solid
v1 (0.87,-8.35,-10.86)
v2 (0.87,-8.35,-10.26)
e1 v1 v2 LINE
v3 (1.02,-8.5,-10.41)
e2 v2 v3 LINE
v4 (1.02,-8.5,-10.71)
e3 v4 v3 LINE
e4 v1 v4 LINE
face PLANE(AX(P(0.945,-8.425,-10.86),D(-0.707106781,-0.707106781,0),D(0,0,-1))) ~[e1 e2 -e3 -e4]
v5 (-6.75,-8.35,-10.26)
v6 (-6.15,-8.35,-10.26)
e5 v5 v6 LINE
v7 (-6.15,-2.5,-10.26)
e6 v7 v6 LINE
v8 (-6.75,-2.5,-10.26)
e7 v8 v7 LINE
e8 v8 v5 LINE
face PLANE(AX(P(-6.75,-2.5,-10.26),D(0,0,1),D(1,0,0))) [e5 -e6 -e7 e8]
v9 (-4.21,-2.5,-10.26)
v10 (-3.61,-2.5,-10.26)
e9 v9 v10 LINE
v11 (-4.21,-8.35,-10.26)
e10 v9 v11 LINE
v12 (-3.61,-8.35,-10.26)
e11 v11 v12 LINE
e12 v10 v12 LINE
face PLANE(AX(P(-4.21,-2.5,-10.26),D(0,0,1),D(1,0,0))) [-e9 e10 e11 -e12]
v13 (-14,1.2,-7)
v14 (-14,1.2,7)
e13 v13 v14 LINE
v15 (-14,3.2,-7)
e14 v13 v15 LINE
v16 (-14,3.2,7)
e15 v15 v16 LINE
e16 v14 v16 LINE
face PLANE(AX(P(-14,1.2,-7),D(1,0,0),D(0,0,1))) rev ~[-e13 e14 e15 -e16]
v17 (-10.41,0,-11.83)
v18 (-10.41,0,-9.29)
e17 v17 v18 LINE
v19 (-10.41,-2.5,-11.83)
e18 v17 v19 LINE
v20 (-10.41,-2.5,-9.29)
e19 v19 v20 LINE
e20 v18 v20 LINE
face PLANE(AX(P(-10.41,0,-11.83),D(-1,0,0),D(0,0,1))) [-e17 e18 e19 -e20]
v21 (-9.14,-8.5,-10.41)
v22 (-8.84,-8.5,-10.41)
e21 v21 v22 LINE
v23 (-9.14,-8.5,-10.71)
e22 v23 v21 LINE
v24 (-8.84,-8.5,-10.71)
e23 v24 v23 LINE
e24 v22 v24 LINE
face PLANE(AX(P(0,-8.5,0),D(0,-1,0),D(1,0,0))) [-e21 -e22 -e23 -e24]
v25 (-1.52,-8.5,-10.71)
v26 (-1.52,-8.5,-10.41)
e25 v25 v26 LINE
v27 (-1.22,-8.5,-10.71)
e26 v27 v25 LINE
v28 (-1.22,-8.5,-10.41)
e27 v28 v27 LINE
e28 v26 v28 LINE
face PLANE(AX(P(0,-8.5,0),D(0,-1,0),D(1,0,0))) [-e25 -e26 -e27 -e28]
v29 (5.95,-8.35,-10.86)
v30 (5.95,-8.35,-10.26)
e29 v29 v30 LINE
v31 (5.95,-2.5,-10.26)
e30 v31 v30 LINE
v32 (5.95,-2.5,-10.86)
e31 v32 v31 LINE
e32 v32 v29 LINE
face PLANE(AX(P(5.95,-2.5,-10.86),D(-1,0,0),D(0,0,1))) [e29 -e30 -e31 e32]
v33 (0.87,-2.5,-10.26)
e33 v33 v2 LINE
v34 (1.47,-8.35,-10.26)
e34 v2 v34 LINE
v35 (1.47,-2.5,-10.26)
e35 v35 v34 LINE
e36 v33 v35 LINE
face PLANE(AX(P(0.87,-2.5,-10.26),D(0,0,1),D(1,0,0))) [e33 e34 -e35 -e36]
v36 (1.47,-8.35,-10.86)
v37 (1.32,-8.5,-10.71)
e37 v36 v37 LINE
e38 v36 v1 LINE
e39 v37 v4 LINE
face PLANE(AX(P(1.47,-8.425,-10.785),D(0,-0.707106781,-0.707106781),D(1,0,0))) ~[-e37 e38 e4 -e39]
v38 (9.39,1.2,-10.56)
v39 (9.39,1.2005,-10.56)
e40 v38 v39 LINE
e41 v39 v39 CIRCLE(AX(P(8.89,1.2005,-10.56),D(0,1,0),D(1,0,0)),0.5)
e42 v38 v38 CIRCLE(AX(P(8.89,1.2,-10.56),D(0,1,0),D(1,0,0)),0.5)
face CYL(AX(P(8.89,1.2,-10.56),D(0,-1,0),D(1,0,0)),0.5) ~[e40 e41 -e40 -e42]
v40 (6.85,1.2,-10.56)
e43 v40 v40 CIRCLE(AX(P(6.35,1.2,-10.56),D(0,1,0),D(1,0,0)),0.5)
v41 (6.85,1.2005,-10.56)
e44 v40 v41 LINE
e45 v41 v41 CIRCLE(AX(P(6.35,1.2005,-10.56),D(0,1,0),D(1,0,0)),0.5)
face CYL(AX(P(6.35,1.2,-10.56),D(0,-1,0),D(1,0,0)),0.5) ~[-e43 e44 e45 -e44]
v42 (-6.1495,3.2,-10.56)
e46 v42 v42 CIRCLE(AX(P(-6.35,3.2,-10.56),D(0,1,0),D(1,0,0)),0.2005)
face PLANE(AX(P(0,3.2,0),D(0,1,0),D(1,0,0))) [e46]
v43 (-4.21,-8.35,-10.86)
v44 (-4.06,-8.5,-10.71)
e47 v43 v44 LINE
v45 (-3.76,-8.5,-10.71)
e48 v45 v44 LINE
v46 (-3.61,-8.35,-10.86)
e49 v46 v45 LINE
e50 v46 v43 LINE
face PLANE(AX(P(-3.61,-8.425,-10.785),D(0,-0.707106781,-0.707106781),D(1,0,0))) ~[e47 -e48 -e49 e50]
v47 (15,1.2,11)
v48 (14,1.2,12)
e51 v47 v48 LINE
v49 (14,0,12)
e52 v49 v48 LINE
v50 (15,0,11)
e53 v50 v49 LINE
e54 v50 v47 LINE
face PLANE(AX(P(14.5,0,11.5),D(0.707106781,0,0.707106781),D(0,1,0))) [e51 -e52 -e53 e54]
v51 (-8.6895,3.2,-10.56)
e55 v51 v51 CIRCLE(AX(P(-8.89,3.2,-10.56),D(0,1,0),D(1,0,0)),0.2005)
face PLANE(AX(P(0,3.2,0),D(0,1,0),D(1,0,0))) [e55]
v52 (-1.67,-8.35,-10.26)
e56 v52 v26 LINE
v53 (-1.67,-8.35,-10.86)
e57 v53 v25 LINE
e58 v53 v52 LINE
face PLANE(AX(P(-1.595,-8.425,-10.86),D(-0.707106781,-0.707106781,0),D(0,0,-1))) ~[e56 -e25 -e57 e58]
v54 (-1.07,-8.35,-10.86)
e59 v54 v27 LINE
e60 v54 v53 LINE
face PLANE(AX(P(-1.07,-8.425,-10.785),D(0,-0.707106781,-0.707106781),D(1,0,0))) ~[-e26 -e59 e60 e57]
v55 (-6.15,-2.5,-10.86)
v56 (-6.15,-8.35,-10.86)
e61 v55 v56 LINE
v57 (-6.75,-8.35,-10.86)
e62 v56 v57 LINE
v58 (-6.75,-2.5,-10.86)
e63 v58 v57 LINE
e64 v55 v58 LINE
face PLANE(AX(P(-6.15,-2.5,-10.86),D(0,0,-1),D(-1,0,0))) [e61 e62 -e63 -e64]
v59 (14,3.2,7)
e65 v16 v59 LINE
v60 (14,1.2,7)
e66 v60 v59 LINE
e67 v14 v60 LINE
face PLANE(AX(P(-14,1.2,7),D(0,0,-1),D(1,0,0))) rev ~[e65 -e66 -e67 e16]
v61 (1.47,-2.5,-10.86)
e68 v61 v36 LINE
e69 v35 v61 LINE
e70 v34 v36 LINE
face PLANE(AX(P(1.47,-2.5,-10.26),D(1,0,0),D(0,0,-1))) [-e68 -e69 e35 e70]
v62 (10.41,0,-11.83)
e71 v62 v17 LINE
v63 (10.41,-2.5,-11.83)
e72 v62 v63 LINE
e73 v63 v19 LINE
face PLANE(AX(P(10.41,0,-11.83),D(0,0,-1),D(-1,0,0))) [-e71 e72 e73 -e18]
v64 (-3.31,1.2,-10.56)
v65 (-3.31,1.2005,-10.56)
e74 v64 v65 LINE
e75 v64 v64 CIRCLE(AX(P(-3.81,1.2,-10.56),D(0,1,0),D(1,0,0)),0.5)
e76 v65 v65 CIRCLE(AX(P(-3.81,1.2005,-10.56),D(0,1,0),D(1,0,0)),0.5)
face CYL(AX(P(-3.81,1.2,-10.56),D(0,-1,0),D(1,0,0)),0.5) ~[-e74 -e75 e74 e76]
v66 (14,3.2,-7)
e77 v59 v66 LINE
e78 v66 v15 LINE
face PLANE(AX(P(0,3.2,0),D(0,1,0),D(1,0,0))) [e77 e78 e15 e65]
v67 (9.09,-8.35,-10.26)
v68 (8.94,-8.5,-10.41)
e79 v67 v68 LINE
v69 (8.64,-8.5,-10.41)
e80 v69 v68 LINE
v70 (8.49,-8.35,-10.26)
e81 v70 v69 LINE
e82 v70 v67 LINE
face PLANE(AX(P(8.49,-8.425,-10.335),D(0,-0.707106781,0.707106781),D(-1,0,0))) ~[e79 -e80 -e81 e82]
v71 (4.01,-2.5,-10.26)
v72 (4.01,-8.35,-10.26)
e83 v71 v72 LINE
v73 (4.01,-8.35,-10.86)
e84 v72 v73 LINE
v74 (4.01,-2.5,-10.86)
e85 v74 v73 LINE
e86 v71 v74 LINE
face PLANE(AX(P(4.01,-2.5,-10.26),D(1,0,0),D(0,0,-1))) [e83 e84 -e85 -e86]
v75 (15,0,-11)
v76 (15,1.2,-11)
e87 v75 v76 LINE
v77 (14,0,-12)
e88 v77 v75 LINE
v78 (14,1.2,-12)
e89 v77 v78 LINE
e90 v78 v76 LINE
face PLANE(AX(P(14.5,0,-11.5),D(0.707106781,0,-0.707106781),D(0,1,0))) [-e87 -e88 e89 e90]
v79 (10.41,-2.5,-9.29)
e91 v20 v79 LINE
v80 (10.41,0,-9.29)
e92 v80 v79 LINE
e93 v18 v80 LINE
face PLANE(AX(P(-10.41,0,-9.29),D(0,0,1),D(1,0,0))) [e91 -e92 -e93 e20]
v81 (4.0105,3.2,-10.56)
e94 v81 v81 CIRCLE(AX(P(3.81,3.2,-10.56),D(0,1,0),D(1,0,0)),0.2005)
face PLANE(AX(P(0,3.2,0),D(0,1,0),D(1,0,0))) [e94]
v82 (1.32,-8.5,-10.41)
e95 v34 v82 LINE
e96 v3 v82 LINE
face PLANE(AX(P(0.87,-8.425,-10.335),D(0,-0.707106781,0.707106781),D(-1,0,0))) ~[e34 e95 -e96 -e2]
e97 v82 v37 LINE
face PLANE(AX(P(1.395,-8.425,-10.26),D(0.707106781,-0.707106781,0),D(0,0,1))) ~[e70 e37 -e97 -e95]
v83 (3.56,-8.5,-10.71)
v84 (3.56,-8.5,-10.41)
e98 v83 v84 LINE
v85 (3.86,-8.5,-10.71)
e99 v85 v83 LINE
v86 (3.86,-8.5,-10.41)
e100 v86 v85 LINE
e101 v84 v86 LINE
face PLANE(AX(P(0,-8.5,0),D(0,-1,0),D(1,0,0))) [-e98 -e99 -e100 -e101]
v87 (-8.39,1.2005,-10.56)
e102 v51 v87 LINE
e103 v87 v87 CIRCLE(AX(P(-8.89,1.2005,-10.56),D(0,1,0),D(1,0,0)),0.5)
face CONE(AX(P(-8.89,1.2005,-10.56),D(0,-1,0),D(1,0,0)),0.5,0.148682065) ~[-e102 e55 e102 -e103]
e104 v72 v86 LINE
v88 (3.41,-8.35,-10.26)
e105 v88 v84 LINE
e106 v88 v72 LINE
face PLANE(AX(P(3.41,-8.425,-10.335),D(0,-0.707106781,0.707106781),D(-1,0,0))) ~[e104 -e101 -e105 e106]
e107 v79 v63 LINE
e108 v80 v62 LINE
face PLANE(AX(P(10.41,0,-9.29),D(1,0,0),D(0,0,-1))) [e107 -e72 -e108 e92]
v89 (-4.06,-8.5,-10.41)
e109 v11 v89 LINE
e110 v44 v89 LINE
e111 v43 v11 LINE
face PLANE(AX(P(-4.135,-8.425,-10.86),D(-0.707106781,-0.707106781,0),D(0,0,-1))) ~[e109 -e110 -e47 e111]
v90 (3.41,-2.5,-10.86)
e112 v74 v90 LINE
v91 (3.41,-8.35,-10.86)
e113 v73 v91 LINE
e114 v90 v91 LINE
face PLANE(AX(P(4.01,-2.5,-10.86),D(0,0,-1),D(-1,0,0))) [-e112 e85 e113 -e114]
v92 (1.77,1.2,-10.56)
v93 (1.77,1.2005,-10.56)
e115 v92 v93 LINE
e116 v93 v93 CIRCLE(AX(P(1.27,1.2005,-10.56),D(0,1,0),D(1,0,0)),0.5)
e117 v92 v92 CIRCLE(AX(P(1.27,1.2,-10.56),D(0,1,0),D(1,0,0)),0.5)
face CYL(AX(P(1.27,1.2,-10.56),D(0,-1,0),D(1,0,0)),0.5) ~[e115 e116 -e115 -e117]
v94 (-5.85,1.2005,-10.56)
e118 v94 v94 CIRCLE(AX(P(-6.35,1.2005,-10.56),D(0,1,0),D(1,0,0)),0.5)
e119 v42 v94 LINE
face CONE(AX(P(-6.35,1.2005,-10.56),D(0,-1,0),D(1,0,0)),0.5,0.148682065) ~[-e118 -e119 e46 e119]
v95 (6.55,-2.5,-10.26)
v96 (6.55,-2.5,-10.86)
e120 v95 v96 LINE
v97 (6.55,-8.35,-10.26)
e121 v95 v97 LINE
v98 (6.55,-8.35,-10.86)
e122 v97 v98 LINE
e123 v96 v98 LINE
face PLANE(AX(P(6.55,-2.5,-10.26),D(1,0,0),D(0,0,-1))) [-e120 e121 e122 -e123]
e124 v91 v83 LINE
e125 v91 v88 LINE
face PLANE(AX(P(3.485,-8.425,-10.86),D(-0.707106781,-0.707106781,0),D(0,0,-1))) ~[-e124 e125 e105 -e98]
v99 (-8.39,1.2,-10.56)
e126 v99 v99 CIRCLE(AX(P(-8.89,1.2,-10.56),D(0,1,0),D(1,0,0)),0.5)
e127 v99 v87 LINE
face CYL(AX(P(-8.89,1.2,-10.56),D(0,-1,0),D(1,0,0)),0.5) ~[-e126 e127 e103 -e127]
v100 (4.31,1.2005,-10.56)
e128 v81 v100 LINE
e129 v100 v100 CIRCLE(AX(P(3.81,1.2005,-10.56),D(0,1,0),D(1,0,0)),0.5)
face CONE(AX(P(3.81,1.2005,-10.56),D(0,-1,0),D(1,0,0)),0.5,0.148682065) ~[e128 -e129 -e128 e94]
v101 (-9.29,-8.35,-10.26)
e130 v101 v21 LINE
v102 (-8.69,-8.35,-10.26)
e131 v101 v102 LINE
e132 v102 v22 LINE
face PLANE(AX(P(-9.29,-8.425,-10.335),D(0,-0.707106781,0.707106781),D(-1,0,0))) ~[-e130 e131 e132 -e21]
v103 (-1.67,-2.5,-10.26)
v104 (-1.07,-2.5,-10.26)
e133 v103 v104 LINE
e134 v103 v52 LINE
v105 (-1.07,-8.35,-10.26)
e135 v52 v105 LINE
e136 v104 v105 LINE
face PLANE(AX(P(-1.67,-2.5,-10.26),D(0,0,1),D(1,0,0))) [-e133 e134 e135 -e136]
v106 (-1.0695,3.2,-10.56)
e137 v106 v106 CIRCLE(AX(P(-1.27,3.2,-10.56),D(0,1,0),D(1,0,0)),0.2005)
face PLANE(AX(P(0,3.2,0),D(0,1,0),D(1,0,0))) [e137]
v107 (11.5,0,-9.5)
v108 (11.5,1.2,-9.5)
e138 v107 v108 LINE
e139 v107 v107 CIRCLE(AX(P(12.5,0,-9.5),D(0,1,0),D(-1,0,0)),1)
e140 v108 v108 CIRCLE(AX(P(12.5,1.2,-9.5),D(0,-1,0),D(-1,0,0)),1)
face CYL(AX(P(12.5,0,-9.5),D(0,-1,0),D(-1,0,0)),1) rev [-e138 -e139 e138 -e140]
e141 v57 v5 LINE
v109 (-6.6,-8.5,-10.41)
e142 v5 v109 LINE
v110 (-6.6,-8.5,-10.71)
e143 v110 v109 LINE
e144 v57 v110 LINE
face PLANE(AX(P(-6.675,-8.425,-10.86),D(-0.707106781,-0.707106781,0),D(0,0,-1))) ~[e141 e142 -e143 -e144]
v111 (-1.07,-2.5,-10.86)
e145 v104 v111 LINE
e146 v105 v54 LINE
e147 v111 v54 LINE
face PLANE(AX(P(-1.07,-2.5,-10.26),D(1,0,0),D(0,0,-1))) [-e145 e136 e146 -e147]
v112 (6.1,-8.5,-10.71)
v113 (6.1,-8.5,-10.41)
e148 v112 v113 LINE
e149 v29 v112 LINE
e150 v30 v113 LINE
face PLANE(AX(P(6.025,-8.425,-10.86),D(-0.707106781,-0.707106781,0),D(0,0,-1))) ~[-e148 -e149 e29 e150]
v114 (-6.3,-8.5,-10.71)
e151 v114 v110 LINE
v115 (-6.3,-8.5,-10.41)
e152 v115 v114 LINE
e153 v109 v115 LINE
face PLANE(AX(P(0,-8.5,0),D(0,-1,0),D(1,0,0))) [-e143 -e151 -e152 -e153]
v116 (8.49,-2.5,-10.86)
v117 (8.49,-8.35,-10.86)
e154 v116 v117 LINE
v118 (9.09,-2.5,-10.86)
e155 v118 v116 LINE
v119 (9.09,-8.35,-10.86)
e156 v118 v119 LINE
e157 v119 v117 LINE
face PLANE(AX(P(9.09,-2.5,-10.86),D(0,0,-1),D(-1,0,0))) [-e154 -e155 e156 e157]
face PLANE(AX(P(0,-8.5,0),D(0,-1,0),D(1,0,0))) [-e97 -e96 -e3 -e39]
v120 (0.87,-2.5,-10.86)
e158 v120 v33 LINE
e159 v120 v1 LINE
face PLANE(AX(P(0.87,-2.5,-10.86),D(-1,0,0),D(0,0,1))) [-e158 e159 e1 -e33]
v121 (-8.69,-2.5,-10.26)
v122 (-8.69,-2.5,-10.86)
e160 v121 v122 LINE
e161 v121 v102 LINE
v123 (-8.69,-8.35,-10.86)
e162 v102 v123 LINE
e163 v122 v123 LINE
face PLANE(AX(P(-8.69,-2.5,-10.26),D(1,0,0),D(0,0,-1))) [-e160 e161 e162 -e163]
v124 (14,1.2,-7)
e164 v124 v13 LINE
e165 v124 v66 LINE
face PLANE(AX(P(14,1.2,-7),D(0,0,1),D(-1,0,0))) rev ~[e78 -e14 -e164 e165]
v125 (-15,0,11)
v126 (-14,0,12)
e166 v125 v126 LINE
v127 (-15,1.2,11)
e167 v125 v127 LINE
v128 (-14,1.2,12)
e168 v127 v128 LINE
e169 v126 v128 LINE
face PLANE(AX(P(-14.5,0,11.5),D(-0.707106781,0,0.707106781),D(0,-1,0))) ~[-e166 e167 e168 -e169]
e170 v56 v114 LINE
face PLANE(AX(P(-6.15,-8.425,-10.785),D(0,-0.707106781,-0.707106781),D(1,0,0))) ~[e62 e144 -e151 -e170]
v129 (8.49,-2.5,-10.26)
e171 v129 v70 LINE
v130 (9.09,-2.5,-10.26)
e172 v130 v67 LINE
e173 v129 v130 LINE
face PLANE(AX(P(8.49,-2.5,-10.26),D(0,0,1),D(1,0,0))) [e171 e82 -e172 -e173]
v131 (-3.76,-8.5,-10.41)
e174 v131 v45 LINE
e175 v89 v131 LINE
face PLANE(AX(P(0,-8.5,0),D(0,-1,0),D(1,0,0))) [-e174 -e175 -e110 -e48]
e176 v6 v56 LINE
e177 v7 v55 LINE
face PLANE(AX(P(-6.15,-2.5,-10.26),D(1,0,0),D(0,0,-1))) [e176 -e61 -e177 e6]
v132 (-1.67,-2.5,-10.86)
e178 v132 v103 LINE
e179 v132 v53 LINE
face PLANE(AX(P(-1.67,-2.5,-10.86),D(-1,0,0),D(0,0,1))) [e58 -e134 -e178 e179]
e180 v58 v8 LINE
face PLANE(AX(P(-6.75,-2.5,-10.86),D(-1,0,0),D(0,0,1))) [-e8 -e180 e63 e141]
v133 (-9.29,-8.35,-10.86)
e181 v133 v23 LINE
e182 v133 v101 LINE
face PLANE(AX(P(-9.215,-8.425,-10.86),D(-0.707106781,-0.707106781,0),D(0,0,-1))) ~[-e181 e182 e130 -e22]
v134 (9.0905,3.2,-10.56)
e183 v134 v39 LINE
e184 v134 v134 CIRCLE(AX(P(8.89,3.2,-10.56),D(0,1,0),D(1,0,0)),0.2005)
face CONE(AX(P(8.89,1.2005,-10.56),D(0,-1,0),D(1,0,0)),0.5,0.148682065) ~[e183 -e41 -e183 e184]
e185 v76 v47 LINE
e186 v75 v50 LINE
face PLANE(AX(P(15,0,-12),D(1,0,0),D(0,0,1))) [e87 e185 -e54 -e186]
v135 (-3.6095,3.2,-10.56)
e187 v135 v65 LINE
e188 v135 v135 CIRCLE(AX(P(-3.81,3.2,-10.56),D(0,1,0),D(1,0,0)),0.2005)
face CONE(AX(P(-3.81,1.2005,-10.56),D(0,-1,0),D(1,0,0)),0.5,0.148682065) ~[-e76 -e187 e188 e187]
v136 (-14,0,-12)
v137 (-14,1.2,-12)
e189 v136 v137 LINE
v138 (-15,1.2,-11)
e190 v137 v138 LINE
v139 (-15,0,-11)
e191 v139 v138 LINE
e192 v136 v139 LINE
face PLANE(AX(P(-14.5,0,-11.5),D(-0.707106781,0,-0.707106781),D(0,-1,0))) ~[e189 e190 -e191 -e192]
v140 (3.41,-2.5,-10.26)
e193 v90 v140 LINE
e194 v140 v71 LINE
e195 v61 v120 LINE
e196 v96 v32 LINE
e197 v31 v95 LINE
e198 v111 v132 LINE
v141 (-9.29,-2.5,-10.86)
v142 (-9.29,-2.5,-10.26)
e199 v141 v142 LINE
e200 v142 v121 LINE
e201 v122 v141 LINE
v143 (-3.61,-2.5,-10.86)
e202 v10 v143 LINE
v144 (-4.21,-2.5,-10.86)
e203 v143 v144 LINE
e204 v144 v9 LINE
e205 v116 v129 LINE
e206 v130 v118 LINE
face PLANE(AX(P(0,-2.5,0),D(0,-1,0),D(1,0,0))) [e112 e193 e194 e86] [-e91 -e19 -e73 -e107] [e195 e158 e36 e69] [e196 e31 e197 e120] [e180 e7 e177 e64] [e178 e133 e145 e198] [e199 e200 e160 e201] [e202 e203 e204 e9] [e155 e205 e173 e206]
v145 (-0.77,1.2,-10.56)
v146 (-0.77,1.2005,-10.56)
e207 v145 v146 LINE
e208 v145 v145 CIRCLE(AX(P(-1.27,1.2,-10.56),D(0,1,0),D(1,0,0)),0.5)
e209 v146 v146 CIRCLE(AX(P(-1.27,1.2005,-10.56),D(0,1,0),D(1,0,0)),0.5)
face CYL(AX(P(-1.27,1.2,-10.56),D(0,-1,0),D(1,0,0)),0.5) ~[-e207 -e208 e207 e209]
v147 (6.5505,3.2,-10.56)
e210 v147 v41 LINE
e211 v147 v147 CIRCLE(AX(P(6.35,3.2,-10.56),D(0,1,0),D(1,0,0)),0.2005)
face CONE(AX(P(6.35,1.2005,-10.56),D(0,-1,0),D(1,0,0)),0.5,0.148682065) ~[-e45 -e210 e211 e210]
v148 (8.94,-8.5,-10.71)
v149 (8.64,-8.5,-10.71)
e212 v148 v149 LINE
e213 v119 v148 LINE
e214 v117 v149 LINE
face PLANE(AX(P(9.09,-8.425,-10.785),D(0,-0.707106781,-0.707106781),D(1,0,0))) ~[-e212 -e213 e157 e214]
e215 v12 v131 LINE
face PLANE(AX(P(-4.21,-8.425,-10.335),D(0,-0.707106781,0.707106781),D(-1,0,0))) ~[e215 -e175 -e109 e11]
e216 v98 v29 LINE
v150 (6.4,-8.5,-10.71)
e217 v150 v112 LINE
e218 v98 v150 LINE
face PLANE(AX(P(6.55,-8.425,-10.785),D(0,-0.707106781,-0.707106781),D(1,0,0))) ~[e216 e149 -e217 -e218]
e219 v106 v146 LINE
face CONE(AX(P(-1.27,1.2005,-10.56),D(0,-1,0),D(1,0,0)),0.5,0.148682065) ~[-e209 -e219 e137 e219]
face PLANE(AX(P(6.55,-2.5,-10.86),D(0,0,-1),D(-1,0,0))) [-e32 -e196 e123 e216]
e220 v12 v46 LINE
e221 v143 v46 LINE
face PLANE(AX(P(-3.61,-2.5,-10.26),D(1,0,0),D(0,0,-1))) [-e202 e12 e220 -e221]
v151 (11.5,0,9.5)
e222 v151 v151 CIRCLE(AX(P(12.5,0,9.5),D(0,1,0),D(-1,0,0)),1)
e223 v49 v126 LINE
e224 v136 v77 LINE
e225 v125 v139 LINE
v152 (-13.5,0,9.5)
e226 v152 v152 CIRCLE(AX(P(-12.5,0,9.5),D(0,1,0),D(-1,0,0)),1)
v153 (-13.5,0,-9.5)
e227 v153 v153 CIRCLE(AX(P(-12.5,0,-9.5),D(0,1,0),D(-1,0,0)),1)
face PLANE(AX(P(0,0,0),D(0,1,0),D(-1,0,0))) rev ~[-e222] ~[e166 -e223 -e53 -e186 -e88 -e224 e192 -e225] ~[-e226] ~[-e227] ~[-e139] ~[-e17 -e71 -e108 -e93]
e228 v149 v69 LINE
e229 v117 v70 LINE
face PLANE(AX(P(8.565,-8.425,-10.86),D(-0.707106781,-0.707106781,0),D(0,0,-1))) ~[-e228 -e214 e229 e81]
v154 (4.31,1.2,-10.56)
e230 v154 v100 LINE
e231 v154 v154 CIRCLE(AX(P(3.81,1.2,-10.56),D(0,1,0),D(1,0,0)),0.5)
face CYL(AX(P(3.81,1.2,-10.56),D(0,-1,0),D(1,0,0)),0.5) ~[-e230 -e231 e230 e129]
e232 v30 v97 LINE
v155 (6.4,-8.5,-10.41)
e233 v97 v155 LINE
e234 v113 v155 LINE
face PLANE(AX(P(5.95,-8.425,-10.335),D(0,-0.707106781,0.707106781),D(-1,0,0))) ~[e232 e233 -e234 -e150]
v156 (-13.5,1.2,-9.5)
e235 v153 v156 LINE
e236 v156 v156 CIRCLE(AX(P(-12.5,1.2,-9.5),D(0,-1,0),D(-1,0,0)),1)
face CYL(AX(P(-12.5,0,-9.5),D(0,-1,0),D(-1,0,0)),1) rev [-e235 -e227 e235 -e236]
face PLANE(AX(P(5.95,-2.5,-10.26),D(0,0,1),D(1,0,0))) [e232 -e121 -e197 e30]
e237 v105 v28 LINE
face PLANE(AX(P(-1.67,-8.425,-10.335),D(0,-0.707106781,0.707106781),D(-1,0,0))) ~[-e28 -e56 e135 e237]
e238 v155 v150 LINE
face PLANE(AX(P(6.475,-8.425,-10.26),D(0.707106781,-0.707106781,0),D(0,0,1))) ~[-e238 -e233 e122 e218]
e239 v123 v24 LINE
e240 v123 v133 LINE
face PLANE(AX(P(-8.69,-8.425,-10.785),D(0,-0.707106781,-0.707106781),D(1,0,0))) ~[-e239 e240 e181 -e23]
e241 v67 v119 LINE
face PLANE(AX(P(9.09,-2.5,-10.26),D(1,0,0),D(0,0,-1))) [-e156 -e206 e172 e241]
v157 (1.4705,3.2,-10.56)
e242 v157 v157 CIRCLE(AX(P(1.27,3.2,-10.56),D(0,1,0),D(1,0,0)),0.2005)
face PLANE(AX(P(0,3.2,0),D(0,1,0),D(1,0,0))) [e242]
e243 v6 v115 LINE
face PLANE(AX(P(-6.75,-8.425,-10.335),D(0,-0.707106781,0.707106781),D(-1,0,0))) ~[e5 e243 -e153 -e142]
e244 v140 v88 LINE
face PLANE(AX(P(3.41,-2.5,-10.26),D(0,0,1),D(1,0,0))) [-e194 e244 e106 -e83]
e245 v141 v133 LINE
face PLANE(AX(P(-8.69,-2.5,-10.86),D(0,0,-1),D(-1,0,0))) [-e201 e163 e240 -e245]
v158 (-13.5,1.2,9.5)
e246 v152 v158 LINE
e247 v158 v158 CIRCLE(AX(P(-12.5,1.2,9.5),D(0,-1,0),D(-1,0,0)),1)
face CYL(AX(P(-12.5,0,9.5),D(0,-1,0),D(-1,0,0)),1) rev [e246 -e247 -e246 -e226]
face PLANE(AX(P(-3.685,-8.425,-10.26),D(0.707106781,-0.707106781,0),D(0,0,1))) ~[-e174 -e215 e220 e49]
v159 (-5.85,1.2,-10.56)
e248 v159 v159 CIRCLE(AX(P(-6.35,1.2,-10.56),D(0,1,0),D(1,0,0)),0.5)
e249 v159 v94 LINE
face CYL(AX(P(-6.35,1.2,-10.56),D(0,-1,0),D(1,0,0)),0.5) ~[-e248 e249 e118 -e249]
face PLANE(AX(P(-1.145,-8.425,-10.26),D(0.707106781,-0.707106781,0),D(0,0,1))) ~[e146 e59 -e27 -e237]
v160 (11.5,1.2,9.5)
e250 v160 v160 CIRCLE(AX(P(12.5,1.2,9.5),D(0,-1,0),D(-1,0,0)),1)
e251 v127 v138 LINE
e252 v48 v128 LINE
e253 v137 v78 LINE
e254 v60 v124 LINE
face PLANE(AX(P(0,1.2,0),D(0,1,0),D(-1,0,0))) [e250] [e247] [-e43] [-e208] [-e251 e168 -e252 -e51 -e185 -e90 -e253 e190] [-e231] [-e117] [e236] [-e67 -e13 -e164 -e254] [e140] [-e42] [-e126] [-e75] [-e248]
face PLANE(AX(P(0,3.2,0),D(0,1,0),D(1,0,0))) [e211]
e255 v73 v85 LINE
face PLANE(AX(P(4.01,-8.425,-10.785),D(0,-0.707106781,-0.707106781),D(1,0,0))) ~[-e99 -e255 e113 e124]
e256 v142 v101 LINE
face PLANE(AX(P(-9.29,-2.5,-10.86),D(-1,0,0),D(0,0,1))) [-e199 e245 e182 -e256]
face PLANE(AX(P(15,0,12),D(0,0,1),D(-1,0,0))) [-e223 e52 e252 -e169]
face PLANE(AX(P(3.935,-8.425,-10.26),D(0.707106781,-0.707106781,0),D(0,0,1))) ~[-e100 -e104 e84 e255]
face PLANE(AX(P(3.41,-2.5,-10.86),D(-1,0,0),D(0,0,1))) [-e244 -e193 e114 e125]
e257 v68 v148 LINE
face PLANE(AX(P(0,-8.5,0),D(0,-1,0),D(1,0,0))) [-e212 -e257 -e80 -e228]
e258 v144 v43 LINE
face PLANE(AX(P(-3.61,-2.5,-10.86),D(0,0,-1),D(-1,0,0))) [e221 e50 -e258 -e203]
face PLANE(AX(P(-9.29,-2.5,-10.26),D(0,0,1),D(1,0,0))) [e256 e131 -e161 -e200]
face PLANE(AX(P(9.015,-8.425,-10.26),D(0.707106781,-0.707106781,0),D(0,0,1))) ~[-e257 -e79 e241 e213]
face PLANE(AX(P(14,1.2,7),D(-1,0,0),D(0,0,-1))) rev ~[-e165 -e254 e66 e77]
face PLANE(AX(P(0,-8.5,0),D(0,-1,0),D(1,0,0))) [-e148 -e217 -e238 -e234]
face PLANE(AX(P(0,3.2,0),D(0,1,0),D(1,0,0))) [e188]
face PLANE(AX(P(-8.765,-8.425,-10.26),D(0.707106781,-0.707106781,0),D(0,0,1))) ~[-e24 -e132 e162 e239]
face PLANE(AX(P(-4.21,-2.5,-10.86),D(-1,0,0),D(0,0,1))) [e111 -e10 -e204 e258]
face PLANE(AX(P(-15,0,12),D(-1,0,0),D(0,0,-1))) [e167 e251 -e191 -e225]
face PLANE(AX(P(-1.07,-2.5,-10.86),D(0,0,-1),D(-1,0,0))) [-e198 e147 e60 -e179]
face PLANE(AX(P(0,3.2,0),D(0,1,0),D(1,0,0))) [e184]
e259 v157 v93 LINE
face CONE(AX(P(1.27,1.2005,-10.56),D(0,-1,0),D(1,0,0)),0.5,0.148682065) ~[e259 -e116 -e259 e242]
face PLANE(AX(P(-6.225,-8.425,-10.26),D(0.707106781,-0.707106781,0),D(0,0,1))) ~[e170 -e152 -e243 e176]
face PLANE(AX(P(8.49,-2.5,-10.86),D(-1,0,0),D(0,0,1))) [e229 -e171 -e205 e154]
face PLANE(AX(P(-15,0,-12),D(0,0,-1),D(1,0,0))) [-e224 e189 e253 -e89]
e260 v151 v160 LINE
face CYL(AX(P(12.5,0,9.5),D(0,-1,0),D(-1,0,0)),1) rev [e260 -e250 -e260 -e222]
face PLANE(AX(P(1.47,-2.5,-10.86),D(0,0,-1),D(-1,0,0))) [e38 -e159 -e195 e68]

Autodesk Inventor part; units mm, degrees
ref_plane "YZ Plane" through (0, 0, 0) normal (1, 0, 0) x (0, 1, 0)
ref_plane "XZ Plane" through (0, 0, 0) normal (0, 1, 0) x (-1, 0, 0)
ref_plane "XY Plane" through (0, 0, 0) normal (0, 0, 1) x (1, 0, 0)
sketch "스케치1" plane through (0, 0, 0) normal (0, 1, 0) x (-1, 0, 0)
  line L0 (15, -12) -> (-15, -12)
  line L1 (-15, -12) -> (-15, 12)
  line L2 (-15, 12) -> (15, 12)
  line L3 (15, 12) -> (15, -12)
  line L4 (15, -12) -> (-15, 12) construction
  line L5 (-15, -12) -> (15, 12) construction
  line L6 (12.5, 9.5) -> (-12.5, 9.5)
  line L7 (-12.5, 9.5) -> (-12.5, -9.5)
  line L8 (-12.5, -9.5) -> (12.5, -9.5)
  line L9 (12.5, -9.5) -> (12.5, 9.5)
  line L10 (12.5, 9.5) -> (-12.5, -9.5) construction
  line L11 (-12.5, 9.5) -> (12.5, -9.5) construction
  circle A0 centre (12.5, -9.5) radius 1
  circle A1 centre (-12.5, -9.5) radius 1
  circle A2 centre (-12.5, 9.5) radius 1
  circle A3 centre (12.5, 9.5) radius 1
  point P0 (0, 0)
  dimension "d0" = 30
  dimension "d1" = 24
  dimension "d2" = 25
  dimension "d3" = 19
  dimension "d4" = 2
  dimension "d5" = 2
  dimension "d6" = 2
  dimension "d7" = 2
extrude "돌출1" add sketch "스케치1" along normal blind 1.2 contours L0 L1 L2 L3 | L6 A3 L9 A0 L8 A1 L7 A2
sketch "스케치2" plane through (0, 1.2, 0) normal (0, 1, 0) x (1, 0, 0)
  line L0 (-14, -7) -> (14, -7)
  line L1 (14, -7) -> (14, 7)
  line L2 (14, 7) -> (-14, 7)
  line L3 (-14, 7) -> (-14, -7)
  line L4 (-14, -7) -> (14, 7) construction
  line L5 (14, -7) -> (-14, 7) construction
  point P0 (0, 0)
  dimension "d10" = 28
  dimension "d11" = 14
extrude "돌출2" add sketch "스케치2" along normal blind 2
sketch "스케치3" plane through (0, 1.2, 0) normal (0, 1, 0) x (1, 0, 0)
  line L0 (15, -12) -> (15, 12) projected
  line L1 (15, 12) -> (-15, 12) projected
  circle A0 centre (-8.89, 10.56) radius 0.5
  circle A1 centre (-6.35, 10.56) radius 0.5
  circle A2 centre (-3.81, 10.56) radius 0.5
  circle A3 centre (-1.27, 10.56) radius 0.5
  circle A4 centre (1.27, 10.56) radius 0.5
  circle A5 centre (3.81, 10.56) radius 0.5
  circle A6 centre (6.35, 10.56) radius 0.5
  circle A7 centre (8.89, 10.56) radius 0.5
  point P0 (0, 0)
  dimension "d14" = 2.54
  dimension "d15" = 2.54
  dimension "d16" = 2.54
  dimension "d17" = 2.54
  dimension "d18" = 2.54
  dimension "d19" = 2.54
  dimension "d20" = 2.54
  dimension "d22" = 1.44
  dimension "d23" = 1
  dimension "d24" = 1
  dimension "d25" = 1
  dimension "d26" = 1
  dimension "d27" = 1
  dimension "d28" = 1
  dimension "d29" = 1
  dimension "d53" = 1
  dimension "d113" = 13.73
extrude "돌출3" add sketch "스케치3" along normal blind 2
chamfer "모따기1" distance 0.3 distance2 2 1 edges at (5.85, 3.2, -10.56) measured on face at (6.1668, 3.2, -10.6561)
chamfer "모따기2" distance 0.3 distance2 2 1 edges at (3.31, 3.2, -10.56) measured on face at (3.8691, 3.2, -10.4042)
chamfer "모따기3" distance 0.3 distance2 2 1 edges at (0.77, 3.2, -10.56) measured on face at (1.1007, 3.2, -10.7255)
chamfer "모따기4" distance 0.3 distance2 2 1 edges at (-1.77, 3.2, -10.56) measured on face at (-1.4393, 3.2, -10.7255)
chamfer "모따기5" distance 0.3 distance2 2 1 edges at (-4.31, 3.2, -10.56) measured on face at (-3.8038, 3.2, -10.4639)
chamfer "모따기6" distance 0.3 distance2 2 1 edges at (-6.85, 3.2, -10.56) measured on face at (-6.4319, 3.2, -10.5921)
chamfer "모따기7" distance 0.3 distance2 2 1 edges at (-9.39, 3.2, -10.56) measured on face at (-9.0639, 3.2, -10.4132)
chamfer "모따기8" distance 0.3 distance2 2 1 edges at (8.39, 3.2, -10.56) measured on face at (9.0549, 3.2, -10.6705)
sketch "스케치4" plane through (0, 0, 0) normal (0, -1, 0) x (1, 0, 0)
  circle A0 centre (6.35, -10.56) radius 0.5 projected
  circle A1 centre (3.81, -10.56) radius 0.5 projected
  circle A2 centre (1.27, -10.56) radius 0.5 projected
  circle A3 centre (-1.27, -10.56) radius 0.5 projected
  circle A4 centre (-3.81, -10.56) radius 0.5 projected
  circle A5 centre (-6.35, -10.56) radius 0.5 projected
  circle A6 centre (-8.89, -10.56) radius 0.5 projected
  circle A7 centre (8.89, -10.56) radius 0.5 projected
  line L0 (10.41, -11.83) -> (-10.41, -11.83)
  line L1 (-10.41, -11.83) -> (-10.41, -9.29)
  line L2 (-10.41, -9.29) -> (10.41, -9.29)
  line L3 (10.41, -9.29) -> (10.41, -11.83)
  point P0 (0, 0)
  dimension "d57" = 20.82
  dimension "d58" = 2.54
  dimension "d59" = 1.52
  dimension "d60" = 1.27
extrude "돌출4" add sketch "스케치4" along normal blind 2.5 contours A0 | A1 | A2 | A3 | A4 | A5 | A6 | A7 | L0 L1 L2 L3
sketch "스케치5" plane through (0, -2.5, 0) normal (0, -1, 0) x (1, 0, 0)
  circle A0 centre (8.89, -10.56) radius 0.5 projected
  circle A1 centre (6.35, -10.56) radius 0.5 projected
  circle A2 centre (3.81, -10.56) radius 0.5 projected
  circle A3 centre (1.27, -10.56) radius 0.5 projected
  circle A4 centre (-1.27, -10.56) radius 0.5 projected
  circle A5 centre (-3.81, -10.56) radius 0.5 projected
  circle A6 centre (-6.35, -10.56) radius 0.5 projected
  circle A7 centre (-8.89, -10.56) radius 0.5 projected
  line L0 (9.09, -10.86) -> (8.49, -10.86)
  line L1 (8.49, -10.86) -> (8.49, -10.26)
  line L2 (8.49, -10.26) -> (9.09, -10.26)
  line L3 (9.09, -10.26) -> (9.09, -10.86)
  line L4 (9.09, -10.86) -> (8.49, -10.26) construction
  line L5 (8.49, -10.86) -> (9.09, -10.26) construction
  line L6 (6.55, -10.86) -> (5.95, -10.86)
  line L7 (6.55, -10.26) -> (6.55, -10.86)
  line L8 (5.95, -10.26) -> (6.55, -10.26)
  line L9 (5.95, -10.86) -> (5.95, -10.26)
  line L10 (4.01, -10.86) -> (3.41, -10.86)
  line L11 (4.01, -10.26) -> (4.01, -10.86)
  line L12 (3.41, -10.26) -> (4.01, -10.26)
  line L13 (3.41, -10.86) -> (3.41, -10.26)
  line L14 (1.47, -10.86) -> (0.87, -10.86)
  line L15 (1.47, -10.26) -> (1.47, -10.86)
  line L16 (0.87, -10.26) -> (1.47, -10.26)
  line L17 (0.87, -10.86) -> (0.87, -10.26)
  line L18 (-1.07, -10.86) -> (-1.67, -10.86)
  line L19 (-1.07, -10.26) -> (-1.07, -10.86)
  line L20 (-1.67, -10.26) -> (-1.07, -10.26)
  line L21 (-1.67, -10.86) -> (-1.67, -10.26)
  line L22 (-3.61, -10.86) -> (-4.21, -10.86)
  line L23 (-3.61, -10.26) -> (-3.61, -10.86)
  line L24 (-4.21, -10.26) -> (-3.61, -10.26)
  line L25 (-4.21, -10.86) -> (-4.21, -10.26)
  line L26 (-6.15, -10.86) -> (-6.75, -10.86)
  line L27 (-6.15, -10.26) -> (-6.15, -10.86)
  line L28 (-6.75, -10.26) -> (-6.15, -10.26)
  line L29 (-6.75, -10.86) -> (-6.75, -10.26)
  line L30 (-8.69, -10.86) -> (-9.29, -10.86)
  line L31 (-8.69, -10.26) -> (-8.69, -10.86)
  line L32 (-9.29, -10.26) -> (-8.69, -10.26)
  line L33 (-9.29, -10.86) -> (-9.29, -10.26)
  point P0 (0, 0)
  point P1 (8.79, -10.56)
  point P2 (-1.27, -10.56)
  point P3 (-3.81, -10.56)
  point P4 (-6.35, -10.56)
  point P5 (-8.89, -10.56)
  dimension "d63" = 0.6
  dimension "d64" = 0.6
  dimension "d67" = 2.54
extrude "돌출5" add sketch "스케치5" along normal blind 6 contours L2 L3 L0 L1 | L8 L7 L6 L9 | L12 L11 L10 L13 | L16 L15 L14 L17 | L20 L19 L18 L21 | L24 L23 L22 L25 | L28 L27 L26 L29 | L32 L31 L30 L33
chamfer "모따기9" distance 0.15 angle 45 32 edges at (8.79, -8.5, -10.86) (8.49, -8.5, -10.56) (8.79, -8.5, -10.26) (9.09, -8.5, -10.56) (6.25, -8.5, -10.86) (6.55, -8.5, -10.56) (6.25, -8.5, -10.26) (5.95, -8.5, -10.56) (3.71, -8.5, -10.86) (3.41, -8.5, -10.56) (3.71, -8.5, -10.26) (4.01, -8.5, -10.56) (1.17, -8.5, -10.26) (0.87, -8.5, -10.56) (1.17, -8.5, -10.86) (1.47, -8.5, -10.56) (-1.37, -8.5, -10.86) (-1.07, -8.5, -10.56) (-1.37, -8.5, -10.26) (-1.67, -8.5, -10.56) (-3.91, -8.5, -10.86) (-3.61, -8.5, -10.56) (-3.91, -8.5, -10.26) (-4.21, -8.5, -10.56) (-6.15, -8.5, -10.56) (-6.45, -8.5, -10.86) (-6.75, -8.5, -10.56) (-6.45, -8.5, -10.26) (-8.99, -8.5, -10.86) (-8.69, -8.5, -10.56) (-8.99, -8.5, -10.26) (-9.29, -8.5, -10.56)
chamfer "모따기10" distance 1 angle 45 4 edges at (15, 0.6, -12) (15, 0.6, 12) (-15, 0.6, 12) (-15, 0.6, -12)
equation "\"d5\" = d4"
equation "\"d6\" = d4"
equation "\"d7\" = d4"
equation "\"d15\" = d14"
equation "\"d16\" = d14"
equation "\"d17\" = d14"
equation "\"d18\" = d14"
equation "\"d19\" = d14"
equation "\"d20\" = d14"
properties part number "SPI_Display_0.96inch"
